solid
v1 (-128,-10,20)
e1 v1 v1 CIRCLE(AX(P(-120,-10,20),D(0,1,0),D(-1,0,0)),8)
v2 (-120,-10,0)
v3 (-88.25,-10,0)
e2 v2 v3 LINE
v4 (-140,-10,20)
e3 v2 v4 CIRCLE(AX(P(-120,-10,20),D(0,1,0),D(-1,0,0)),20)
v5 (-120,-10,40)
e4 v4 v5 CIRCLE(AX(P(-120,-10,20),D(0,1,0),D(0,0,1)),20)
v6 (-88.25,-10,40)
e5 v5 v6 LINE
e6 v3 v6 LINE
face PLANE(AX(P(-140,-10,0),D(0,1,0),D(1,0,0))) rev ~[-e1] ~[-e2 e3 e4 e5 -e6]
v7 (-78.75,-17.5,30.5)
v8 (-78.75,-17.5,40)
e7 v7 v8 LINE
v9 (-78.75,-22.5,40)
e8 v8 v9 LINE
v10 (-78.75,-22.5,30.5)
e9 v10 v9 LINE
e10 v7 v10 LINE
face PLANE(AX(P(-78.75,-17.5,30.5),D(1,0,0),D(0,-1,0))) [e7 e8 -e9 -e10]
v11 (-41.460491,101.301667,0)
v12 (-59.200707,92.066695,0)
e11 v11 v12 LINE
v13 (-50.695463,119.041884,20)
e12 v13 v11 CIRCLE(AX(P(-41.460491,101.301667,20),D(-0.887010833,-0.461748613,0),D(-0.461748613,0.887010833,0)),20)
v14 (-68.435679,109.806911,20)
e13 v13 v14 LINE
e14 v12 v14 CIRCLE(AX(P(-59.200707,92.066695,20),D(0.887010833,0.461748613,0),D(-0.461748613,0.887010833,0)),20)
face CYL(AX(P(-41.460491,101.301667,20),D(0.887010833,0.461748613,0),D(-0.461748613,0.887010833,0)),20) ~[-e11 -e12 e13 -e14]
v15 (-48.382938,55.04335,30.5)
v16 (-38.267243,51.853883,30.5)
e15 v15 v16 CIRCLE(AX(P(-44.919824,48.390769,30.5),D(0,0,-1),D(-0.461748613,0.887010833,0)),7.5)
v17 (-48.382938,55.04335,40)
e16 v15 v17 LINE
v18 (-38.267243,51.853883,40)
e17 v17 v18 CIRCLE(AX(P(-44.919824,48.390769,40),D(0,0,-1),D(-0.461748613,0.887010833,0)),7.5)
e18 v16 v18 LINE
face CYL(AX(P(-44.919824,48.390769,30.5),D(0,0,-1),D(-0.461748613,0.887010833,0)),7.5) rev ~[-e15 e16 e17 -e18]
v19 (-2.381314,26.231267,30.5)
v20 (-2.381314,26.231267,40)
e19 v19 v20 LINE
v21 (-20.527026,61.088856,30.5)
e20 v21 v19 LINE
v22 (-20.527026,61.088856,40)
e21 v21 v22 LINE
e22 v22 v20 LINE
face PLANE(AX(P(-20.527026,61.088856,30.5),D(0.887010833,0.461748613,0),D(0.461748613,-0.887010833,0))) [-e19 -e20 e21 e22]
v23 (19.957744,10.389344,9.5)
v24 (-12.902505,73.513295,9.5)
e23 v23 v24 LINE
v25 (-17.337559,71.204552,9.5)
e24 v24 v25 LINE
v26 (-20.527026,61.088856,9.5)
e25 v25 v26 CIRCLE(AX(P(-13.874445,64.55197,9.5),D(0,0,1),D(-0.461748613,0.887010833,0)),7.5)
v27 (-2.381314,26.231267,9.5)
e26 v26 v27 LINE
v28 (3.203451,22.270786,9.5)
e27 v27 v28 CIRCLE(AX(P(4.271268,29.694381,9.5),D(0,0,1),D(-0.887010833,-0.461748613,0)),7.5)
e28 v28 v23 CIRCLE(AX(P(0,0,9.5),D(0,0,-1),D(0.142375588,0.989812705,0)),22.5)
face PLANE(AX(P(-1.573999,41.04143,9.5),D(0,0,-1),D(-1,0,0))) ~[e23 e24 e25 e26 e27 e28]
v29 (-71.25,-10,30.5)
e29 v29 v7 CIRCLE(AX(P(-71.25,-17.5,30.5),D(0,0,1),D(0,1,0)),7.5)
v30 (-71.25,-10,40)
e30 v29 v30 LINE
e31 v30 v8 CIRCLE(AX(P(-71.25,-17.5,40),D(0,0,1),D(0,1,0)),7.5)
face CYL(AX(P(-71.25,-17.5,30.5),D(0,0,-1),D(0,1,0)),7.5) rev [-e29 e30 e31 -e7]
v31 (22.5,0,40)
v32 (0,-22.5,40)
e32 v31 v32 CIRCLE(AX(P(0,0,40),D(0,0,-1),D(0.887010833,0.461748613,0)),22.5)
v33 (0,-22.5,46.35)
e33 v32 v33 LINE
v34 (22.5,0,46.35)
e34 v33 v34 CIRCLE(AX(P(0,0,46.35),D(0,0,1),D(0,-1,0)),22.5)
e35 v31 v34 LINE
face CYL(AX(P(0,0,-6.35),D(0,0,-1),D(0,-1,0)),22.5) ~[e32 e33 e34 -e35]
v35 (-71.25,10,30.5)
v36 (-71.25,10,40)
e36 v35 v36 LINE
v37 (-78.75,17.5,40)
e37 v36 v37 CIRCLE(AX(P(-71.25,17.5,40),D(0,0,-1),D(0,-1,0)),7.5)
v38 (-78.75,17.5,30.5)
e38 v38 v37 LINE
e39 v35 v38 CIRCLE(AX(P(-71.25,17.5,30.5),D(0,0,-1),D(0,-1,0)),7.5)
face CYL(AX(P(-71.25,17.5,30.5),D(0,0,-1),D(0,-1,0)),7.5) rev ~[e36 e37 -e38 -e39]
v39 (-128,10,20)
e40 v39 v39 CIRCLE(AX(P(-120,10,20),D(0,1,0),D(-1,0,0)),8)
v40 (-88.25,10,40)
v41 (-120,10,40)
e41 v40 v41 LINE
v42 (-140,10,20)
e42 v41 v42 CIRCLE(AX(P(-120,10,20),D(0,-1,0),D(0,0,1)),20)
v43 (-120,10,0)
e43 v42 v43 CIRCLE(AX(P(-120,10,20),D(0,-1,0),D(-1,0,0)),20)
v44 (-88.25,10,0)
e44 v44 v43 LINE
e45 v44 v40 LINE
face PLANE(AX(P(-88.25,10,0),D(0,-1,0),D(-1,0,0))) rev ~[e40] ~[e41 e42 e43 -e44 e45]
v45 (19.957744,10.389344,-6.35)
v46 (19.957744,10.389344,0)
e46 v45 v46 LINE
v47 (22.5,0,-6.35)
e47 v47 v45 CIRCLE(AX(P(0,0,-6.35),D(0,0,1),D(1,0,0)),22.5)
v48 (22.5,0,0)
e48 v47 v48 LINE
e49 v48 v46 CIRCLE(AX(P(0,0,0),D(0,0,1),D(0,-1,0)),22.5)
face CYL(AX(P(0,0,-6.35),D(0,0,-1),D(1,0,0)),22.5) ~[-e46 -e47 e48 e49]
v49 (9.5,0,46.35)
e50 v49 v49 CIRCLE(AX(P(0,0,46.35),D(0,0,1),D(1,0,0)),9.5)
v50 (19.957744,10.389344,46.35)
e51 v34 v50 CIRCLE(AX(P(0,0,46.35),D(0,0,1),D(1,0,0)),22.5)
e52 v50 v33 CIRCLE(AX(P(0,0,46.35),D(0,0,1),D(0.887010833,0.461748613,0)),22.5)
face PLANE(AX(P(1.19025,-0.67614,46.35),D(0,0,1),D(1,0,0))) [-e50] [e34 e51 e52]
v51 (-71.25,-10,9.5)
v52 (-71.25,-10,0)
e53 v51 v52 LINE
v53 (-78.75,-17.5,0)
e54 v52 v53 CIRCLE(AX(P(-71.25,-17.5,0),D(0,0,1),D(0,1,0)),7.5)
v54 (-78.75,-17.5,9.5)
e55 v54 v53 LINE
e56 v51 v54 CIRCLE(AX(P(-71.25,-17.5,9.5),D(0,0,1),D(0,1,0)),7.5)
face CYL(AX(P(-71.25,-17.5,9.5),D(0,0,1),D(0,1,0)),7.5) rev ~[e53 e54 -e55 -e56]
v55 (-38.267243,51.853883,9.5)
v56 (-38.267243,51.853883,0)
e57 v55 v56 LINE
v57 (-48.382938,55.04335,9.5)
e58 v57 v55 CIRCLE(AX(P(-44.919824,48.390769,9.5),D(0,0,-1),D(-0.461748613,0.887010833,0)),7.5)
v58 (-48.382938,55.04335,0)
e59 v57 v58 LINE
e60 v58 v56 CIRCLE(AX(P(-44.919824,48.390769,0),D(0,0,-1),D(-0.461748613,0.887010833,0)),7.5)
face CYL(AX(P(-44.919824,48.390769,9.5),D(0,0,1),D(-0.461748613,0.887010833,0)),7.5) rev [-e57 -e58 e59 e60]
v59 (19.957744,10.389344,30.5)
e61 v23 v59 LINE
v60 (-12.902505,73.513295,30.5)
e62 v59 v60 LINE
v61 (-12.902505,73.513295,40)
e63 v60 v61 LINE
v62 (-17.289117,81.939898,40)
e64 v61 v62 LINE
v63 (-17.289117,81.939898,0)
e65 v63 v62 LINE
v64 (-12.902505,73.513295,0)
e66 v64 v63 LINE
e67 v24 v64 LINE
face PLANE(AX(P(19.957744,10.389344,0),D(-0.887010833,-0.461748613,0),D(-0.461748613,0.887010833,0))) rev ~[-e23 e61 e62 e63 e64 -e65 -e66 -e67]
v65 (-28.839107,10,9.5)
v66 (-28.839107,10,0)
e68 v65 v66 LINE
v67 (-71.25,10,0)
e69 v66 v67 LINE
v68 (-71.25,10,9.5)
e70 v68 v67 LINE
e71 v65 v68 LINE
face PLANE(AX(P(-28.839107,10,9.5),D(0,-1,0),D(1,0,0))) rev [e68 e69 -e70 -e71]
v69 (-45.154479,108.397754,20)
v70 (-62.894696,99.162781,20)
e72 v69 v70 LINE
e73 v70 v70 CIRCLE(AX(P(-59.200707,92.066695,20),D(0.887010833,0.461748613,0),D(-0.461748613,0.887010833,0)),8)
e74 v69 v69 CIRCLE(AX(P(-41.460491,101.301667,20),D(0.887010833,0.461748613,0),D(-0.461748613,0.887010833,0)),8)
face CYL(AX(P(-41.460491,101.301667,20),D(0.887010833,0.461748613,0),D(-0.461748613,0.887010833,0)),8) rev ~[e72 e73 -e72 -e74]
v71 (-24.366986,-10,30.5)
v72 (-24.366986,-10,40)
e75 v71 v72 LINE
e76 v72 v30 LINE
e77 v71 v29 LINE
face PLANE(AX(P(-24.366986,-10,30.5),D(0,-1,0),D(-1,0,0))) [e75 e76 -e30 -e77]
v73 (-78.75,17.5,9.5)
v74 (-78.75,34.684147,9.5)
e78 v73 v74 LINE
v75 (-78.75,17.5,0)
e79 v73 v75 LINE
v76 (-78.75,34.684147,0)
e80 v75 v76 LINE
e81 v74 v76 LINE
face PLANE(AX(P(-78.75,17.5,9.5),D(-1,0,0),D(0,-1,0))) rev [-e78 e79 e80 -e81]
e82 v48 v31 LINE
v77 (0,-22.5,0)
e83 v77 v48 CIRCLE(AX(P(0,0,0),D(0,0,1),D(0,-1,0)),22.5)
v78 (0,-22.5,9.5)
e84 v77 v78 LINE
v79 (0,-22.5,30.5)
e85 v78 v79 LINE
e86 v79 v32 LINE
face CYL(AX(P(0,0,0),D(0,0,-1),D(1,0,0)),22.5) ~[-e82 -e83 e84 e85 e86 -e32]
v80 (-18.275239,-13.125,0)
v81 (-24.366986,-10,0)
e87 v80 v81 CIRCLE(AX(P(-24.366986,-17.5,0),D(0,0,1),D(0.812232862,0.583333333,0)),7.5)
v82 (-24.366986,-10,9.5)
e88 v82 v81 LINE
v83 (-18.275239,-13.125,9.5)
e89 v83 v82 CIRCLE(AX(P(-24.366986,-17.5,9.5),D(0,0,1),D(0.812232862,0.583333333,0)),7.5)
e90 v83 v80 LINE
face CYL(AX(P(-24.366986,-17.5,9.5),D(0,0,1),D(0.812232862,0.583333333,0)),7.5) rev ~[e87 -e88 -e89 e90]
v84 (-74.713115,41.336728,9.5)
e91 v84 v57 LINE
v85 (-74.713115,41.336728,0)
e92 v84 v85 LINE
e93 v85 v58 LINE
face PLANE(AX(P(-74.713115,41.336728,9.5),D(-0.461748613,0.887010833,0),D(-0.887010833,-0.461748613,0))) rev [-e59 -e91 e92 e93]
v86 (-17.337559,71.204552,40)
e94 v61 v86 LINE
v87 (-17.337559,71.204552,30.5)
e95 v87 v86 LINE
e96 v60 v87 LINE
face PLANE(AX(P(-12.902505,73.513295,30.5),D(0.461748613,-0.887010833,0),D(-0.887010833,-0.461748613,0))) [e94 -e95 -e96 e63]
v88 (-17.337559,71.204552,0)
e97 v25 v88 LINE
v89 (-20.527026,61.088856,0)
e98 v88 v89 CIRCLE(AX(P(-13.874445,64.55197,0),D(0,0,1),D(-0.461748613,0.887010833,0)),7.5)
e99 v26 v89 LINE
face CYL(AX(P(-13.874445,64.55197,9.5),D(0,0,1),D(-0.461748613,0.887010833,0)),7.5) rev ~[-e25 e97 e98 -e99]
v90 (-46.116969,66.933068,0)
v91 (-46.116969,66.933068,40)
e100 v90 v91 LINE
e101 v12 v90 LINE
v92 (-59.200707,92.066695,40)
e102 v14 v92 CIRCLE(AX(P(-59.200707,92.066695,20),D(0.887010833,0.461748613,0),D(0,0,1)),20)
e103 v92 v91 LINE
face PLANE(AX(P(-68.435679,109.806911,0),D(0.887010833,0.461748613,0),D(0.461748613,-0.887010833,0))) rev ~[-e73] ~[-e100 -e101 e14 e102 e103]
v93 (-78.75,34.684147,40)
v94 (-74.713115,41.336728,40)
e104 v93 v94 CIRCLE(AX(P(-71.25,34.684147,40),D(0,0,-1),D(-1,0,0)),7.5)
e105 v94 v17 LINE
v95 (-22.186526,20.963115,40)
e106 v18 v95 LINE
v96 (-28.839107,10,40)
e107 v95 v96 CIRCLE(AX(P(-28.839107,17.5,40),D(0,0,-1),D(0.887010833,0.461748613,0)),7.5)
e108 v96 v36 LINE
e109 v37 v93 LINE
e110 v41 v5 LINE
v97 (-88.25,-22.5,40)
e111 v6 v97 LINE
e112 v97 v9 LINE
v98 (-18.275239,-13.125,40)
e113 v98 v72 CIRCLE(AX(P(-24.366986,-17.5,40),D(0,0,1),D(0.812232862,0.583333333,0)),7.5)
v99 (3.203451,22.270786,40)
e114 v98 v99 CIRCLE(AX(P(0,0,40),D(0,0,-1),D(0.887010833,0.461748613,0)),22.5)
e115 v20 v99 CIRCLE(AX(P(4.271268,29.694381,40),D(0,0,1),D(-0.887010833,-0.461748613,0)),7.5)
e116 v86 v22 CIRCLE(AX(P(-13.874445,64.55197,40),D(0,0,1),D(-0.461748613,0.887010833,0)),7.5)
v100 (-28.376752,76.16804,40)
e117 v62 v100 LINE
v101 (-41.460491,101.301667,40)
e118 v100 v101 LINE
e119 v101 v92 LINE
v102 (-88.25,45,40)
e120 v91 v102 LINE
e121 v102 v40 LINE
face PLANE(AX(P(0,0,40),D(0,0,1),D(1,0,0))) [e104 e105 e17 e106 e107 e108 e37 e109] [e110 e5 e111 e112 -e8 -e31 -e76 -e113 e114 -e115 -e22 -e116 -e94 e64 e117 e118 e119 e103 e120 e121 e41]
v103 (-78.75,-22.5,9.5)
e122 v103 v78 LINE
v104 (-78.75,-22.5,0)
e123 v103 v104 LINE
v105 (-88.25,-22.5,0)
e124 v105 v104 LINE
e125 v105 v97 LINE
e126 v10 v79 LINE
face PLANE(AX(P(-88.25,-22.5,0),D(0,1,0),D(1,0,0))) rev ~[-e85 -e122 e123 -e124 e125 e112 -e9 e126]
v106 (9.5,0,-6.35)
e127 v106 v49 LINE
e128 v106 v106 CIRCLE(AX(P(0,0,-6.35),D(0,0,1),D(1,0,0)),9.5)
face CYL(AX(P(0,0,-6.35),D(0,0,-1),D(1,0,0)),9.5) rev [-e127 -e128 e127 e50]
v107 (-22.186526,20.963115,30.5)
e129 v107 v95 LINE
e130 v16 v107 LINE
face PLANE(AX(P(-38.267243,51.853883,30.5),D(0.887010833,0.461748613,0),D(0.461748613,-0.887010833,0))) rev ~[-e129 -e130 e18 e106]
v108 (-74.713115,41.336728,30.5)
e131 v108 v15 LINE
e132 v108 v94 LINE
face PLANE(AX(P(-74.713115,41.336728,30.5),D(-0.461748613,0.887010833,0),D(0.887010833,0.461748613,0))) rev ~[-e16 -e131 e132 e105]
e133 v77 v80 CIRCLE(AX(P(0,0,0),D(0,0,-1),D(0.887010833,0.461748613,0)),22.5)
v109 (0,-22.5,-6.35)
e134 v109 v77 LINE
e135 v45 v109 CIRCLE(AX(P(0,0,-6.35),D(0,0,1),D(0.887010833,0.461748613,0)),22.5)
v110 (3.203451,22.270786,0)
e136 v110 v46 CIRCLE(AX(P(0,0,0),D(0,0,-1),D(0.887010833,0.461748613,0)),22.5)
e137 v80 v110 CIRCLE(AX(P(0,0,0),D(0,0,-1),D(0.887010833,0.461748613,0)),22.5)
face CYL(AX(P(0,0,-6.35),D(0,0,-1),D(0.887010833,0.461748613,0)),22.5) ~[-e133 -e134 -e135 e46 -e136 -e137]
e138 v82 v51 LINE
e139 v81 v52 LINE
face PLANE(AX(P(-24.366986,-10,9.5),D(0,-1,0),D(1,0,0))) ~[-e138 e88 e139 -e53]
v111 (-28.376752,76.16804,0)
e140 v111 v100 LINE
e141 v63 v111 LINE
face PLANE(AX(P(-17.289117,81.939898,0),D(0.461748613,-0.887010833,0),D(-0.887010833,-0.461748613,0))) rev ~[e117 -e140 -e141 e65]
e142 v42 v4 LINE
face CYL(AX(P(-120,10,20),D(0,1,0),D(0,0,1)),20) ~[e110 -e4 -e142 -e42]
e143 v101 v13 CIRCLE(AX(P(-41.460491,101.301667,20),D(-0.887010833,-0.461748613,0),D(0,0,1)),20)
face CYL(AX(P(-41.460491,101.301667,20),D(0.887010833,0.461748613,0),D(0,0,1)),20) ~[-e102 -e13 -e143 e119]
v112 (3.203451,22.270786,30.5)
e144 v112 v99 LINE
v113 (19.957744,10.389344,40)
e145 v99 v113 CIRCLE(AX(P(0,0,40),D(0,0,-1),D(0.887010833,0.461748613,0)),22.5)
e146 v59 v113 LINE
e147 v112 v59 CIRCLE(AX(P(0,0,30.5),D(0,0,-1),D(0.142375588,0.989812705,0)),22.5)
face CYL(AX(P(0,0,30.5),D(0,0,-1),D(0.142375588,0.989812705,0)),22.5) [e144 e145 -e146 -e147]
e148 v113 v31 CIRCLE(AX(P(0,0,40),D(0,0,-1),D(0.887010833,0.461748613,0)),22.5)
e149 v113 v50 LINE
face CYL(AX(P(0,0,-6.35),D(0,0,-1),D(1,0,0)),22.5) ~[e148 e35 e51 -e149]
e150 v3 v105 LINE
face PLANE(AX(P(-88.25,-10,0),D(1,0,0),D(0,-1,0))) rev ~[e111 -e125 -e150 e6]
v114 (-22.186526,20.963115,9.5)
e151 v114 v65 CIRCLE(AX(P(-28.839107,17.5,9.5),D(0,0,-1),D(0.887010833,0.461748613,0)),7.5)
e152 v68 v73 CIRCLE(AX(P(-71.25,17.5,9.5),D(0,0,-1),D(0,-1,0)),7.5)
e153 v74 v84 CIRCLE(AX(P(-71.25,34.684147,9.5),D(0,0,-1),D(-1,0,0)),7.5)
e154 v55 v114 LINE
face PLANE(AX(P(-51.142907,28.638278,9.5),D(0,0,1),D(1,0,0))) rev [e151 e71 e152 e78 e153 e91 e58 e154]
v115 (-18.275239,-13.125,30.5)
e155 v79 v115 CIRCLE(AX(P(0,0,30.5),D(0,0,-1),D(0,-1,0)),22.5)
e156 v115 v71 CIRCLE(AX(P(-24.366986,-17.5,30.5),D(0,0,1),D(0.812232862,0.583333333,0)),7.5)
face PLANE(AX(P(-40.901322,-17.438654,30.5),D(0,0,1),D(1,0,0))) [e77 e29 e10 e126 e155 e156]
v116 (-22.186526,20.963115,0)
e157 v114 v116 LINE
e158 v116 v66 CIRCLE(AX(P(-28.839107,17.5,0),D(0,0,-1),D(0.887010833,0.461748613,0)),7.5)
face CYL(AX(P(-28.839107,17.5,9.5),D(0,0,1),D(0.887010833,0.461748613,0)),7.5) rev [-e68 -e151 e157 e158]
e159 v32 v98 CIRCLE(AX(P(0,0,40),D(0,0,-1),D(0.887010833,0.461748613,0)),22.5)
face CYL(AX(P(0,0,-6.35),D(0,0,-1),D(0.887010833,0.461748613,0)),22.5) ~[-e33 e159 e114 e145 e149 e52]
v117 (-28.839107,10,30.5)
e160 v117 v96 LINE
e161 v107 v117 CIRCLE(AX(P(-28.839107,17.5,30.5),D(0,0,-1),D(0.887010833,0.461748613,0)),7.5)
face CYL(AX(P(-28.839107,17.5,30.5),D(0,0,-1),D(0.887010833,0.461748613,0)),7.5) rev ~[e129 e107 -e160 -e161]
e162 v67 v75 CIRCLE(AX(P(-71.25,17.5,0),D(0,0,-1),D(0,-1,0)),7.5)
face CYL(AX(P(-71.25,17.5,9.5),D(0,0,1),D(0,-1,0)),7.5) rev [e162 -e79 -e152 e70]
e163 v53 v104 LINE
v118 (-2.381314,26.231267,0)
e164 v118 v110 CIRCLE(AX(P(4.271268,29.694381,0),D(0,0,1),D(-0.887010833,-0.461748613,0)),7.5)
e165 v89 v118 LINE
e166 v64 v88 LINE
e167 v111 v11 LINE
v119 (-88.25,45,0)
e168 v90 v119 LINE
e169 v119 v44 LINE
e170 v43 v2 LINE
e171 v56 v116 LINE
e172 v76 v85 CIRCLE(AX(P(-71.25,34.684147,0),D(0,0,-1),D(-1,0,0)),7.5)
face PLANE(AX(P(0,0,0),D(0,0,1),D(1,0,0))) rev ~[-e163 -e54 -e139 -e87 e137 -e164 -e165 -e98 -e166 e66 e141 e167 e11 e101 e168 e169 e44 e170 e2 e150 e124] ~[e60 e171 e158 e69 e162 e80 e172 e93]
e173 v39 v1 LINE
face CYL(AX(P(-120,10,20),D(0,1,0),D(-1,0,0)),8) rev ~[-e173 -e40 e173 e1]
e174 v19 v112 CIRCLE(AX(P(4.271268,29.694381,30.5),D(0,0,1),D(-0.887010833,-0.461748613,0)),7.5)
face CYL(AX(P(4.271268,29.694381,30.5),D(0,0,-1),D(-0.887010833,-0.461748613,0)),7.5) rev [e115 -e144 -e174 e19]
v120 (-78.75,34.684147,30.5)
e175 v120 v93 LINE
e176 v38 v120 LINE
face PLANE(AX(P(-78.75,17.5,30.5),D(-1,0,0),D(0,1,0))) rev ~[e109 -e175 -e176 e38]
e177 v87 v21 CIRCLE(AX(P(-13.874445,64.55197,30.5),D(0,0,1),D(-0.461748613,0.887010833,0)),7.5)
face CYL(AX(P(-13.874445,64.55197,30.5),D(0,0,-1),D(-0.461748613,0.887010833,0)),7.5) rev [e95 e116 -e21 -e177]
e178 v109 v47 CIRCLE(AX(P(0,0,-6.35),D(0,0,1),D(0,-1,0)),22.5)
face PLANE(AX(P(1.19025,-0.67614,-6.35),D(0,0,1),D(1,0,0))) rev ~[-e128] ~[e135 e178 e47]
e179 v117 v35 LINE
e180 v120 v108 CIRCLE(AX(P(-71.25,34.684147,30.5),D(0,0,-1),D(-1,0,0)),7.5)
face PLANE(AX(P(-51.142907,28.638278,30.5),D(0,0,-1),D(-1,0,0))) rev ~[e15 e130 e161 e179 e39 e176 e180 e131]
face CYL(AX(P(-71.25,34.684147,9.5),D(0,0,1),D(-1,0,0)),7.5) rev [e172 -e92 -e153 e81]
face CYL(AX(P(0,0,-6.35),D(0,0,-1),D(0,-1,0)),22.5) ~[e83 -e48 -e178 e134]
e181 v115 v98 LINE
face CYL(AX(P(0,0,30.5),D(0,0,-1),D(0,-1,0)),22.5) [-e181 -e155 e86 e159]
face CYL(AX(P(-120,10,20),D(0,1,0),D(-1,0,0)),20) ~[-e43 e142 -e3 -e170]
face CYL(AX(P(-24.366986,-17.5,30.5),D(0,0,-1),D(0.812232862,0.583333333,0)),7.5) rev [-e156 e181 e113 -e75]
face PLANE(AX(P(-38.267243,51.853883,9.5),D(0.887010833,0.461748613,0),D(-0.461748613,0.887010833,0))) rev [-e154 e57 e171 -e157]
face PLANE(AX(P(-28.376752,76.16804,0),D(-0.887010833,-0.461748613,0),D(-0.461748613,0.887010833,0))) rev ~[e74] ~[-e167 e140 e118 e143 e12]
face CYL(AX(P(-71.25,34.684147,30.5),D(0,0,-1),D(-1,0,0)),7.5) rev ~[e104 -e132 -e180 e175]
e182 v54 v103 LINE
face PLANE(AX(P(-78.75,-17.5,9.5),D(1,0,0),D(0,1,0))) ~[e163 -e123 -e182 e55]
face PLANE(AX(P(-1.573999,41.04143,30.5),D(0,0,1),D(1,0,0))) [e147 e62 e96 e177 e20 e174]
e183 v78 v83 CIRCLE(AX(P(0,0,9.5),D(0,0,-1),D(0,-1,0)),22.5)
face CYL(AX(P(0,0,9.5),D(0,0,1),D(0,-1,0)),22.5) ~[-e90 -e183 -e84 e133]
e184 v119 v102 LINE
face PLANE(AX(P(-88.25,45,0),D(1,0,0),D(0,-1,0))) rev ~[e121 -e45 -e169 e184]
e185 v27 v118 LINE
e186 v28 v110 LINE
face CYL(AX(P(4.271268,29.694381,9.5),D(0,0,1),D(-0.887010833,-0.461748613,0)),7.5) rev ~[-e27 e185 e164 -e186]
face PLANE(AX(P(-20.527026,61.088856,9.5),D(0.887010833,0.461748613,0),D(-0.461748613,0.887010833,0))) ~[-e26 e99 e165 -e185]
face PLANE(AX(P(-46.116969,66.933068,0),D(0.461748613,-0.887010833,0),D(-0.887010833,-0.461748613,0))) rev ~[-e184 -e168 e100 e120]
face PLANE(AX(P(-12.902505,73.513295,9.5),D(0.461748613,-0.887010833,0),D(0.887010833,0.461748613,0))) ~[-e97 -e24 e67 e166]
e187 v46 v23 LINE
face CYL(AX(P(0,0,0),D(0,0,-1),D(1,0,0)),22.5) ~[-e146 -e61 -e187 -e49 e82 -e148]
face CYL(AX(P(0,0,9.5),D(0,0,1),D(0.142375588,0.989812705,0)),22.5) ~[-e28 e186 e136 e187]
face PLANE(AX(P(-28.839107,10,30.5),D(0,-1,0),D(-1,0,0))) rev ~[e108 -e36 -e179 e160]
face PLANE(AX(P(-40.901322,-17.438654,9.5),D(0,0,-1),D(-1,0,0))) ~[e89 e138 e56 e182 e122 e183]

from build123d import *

# Parameters (mm, degrees)
ESQUISSE1_R             = 22.5
ESQUISSE1_R_2           = 9.5
BOSS_EXTRU_1_DEPTH      = 40
BOSS_EXTRU_2_DEPTH      = 6.35
BOSS_EXTRU_2_DEPTH_BACK = 46.35
ESQUISSE2_R             = 9.5
ESQUISSE3_R             = 8
ENL_V_MAT_EXTRU_1_DEPTH = 194.400037211
ESQUISSE4_R             = 8
ENL_V_MAT_EXTRU_2_DEPTH = 184.407892092
ENL_V_START             = -9.5
ENL_V_MAT_EXTRU_3_DEPTH = 9.5


with BuildPart() as part:
    # Esquisse1 → Boss.-Extru.1 (new body)
    # profile 1 of 2: a face of its own
    with BuildSketch(Plane.XY):
        with BuildLine():
            ThreePointArc((0, -22.5), (-19.23551709, 11.672398309), (19.957743747, 10.389343798))
            Line((19.957743747, 10.389343798), (-17.289116996, 81.93989757))
            Line((-17.289116996, 81.93989757), (-28.376752411, 76.168039905))
            Line((-28.376752411, 76.168039905), (-50.695462776, 119.041883612))
            Line((-50.695462776, 119.041883612), (-68.435679439, 109.806911348))
            Line((-68.435679439, 109.806911348), (-46.116969074, 66.93306764))
            Line((-46.116969074, 66.93306764), (-88.25, 45))
            Line((-88.25, 45), (-88.25, 10))
            Line((-88.25, 10), (-140, 10))
            Line((-140, 10), (-140, -10))
            Line((-140, -10), (-88.25, -10))
            Line((-88.25, -10), (-88.25, -22.5))
            Line((-88.25, -22.5), (0, -22.5))
        make_face()
    # profile 2 of 2: a face of its own
    with BuildSketch(Plane.XY):
        Circle(ESQUISSE1_R)
        Circle(ESQUISSE1_R_2, mode=Mode.SUBTRACT)
    extrude(amount=BOSS_EXTRU_1_DEPTH)

    # Esquisse2 → Boss.-Extru.2 (add, two sides: drawn at the far end of the back side and taken through both)
    with BuildSketch(Plane.XY.offset(40).offset(-BOSS_EXTRU_2_DEPTH_BACK)):
        with BuildLine():
            ThreePointArc((19.957743747, 10.389343798), (-19.23551709, 11.672398309), (0, -22.5))
            ThreePointArc((0, -22.5), (15.909902577, -15.909902577), (22.5, 0))
            ThreePointArc((22.5, 0), (21.855196571, 5.347932577), (19.957743747, 10.389343798))
        make_face()
        Circle(ESQUISSE2_R, mode=Mode.SUBTRACT)
    extrude(amount=BOSS_EXTRU_2_DEPTH + BOSS_EXTRU_2_DEPTH_BACK)

    # Esquisse3 → Enlèv. mat.-Extru.1 (cut, through all)
    with BuildSketch(Plane(origin=(8.870108332, 4.617486132, 0), x_dir=(0, 0, -1), z_dir=(0.8870108331782226, 0.4617486132350323, 0))):
        with BuildLine():
            ThreePointArc((-20, 129), (-5.857864376, 123.142135624), (0, 109))
            Line((0, 109), (0, 129))
            Line((0, 129), (-20, 129))
        make_face()
        with BuildLine():
            ThreePointArc((-40, 109), (-34.142135624, 123.142135624), (-20, 129))
            Line((-20, 129), (-40, 129))
            Line((-40, 129), (-40, 109))
        make_face()
        with Locations(Location((-20, 109, 0), (0, 0, 90))):
            Circle(ESQUISSE3_R)
    extrude(amount=-ENL_V_MAT_EXTRU_1_DEPTH, mode=Mode.SUBTRACT)

    # Esquisse4 → Enlèv. mat.-Extru.2 (cut, through all)
    with BuildSketch(Plane(origin=(0, 10, 0), x_dir=(1, 0, 0), z_dir=(0, 1, 0))):
        with Locations(Location((-120, -20, 0), (0, 0, 180))):
            Circle(ESQUISSE4_R)
        with BuildLine():
            ThreePointArc((-140, -20), (-134.142135624, -5.857864376), (-120, 0))
            Line((-120, 0), (-140, 0))
            Line((-140, 0), (-140, -20))
        make_face()
        with BuildLine():
            ThreePointArc((-120, -40), (-134.142135624, -34.142135624), (-140, -20))
            Line((-140, -20), (-140, -40))
            Line((-140, -40), (-120, -40))
        make_face()
    extrude(amount=-ENL_V_MAT_EXTRU_2_DEPTH, mode=Mode.SUBTRACT)

    # Esquisse5 → Enlèv. mat.-Extru.3 (cut)
    with BuildSketch(Plane.XY.offset(40).offset(ENL_V_START)):
        with BuildLine():
            ThreePointArc((-18.275239397, -13.125), (-20.943719878, -10.826826092), (-24.366985862, -10))
            Line((-24.366985862, -10), (-71.25, -10))
            ThreePointArc((-71.25, -10), (-76.553300859, -12.196699141), (-78.75, -17.5))
            Line((-78.75, -17.5), (-78.75, -22.5))
            Line((-78.75, -22.5), (0, -22.5))
            ThreePointArc((0, -22.5), (-10.269797953, -20.019521723), (-18.275239397, -13.125))
        make_face()
        with BuildLine():
            ThreePointArc((-2.381313599, 26.231266564), (-0.067221577, 23.576578352), (3.203450738, 22.270785872))
            ThreePointArc((3.203450738, 22.270785872), (13.01546768, 18.353408432), (19.957743747, 10.389343798))
            Line((19.957743747, 10.389343798), (-12.90250517, 73.513294655))
            Line((-12.90250517, 73.513294655), (-17.337559336, 71.204551589))
            ThreePointArc((-17.337559336, 71.204551589), (-21.027321868, 66.807263836), (-20.527025986, 61.08885574))
            Line((-20.527025986, 61.08885574), (-2.381313599, 26.231266564))
        make_face()
        with BuildLine():
            Line((-78.75, 17.5), (-78.75, 34.684146763))
            ThreePointArc((-78.75, 34.684146763), (-77.66183903, 38.574946199), (-74.713114599, 41.336728011))
            Line((-74.713114599, 41.336728011), (-48.382938497, 55.043350125))
            ThreePointArc((-48.382938497, 55.043350125), (-42.664530402, 55.543646007), (-38.267242649, 51.853883476))
            Line((-38.267242649, 51.853883476), (-22.186526206, 20.963114599))
            ThreePointArc((-22.186526206, 20.963114599), (-22.427268425, 13.609200564), (-28.839107455, 10))
            Line((-28.839107455, 10), (-71.25, 10))
            ThreePointArc((-71.25, 10), (-76.553300859, 12.196699141), (-78.75, 17.5))
        make_face()
    enl_v_mat_extru_3 = extrude(amount=ENL_V_MAT_EXTRU_3_DEPTH, mode=Mode.SUBTRACT)

    # Symétrie1: Enlèv. mat.-Extru.3 across plane
    add(enl_v_mat_extru_3.mirror(Plane(origin=(0, 0, 20), x_dir=(1, 0, 0), z_dir=(0, 0, -1))), mode=Mode.SUBTRACT)


solid = part.part
